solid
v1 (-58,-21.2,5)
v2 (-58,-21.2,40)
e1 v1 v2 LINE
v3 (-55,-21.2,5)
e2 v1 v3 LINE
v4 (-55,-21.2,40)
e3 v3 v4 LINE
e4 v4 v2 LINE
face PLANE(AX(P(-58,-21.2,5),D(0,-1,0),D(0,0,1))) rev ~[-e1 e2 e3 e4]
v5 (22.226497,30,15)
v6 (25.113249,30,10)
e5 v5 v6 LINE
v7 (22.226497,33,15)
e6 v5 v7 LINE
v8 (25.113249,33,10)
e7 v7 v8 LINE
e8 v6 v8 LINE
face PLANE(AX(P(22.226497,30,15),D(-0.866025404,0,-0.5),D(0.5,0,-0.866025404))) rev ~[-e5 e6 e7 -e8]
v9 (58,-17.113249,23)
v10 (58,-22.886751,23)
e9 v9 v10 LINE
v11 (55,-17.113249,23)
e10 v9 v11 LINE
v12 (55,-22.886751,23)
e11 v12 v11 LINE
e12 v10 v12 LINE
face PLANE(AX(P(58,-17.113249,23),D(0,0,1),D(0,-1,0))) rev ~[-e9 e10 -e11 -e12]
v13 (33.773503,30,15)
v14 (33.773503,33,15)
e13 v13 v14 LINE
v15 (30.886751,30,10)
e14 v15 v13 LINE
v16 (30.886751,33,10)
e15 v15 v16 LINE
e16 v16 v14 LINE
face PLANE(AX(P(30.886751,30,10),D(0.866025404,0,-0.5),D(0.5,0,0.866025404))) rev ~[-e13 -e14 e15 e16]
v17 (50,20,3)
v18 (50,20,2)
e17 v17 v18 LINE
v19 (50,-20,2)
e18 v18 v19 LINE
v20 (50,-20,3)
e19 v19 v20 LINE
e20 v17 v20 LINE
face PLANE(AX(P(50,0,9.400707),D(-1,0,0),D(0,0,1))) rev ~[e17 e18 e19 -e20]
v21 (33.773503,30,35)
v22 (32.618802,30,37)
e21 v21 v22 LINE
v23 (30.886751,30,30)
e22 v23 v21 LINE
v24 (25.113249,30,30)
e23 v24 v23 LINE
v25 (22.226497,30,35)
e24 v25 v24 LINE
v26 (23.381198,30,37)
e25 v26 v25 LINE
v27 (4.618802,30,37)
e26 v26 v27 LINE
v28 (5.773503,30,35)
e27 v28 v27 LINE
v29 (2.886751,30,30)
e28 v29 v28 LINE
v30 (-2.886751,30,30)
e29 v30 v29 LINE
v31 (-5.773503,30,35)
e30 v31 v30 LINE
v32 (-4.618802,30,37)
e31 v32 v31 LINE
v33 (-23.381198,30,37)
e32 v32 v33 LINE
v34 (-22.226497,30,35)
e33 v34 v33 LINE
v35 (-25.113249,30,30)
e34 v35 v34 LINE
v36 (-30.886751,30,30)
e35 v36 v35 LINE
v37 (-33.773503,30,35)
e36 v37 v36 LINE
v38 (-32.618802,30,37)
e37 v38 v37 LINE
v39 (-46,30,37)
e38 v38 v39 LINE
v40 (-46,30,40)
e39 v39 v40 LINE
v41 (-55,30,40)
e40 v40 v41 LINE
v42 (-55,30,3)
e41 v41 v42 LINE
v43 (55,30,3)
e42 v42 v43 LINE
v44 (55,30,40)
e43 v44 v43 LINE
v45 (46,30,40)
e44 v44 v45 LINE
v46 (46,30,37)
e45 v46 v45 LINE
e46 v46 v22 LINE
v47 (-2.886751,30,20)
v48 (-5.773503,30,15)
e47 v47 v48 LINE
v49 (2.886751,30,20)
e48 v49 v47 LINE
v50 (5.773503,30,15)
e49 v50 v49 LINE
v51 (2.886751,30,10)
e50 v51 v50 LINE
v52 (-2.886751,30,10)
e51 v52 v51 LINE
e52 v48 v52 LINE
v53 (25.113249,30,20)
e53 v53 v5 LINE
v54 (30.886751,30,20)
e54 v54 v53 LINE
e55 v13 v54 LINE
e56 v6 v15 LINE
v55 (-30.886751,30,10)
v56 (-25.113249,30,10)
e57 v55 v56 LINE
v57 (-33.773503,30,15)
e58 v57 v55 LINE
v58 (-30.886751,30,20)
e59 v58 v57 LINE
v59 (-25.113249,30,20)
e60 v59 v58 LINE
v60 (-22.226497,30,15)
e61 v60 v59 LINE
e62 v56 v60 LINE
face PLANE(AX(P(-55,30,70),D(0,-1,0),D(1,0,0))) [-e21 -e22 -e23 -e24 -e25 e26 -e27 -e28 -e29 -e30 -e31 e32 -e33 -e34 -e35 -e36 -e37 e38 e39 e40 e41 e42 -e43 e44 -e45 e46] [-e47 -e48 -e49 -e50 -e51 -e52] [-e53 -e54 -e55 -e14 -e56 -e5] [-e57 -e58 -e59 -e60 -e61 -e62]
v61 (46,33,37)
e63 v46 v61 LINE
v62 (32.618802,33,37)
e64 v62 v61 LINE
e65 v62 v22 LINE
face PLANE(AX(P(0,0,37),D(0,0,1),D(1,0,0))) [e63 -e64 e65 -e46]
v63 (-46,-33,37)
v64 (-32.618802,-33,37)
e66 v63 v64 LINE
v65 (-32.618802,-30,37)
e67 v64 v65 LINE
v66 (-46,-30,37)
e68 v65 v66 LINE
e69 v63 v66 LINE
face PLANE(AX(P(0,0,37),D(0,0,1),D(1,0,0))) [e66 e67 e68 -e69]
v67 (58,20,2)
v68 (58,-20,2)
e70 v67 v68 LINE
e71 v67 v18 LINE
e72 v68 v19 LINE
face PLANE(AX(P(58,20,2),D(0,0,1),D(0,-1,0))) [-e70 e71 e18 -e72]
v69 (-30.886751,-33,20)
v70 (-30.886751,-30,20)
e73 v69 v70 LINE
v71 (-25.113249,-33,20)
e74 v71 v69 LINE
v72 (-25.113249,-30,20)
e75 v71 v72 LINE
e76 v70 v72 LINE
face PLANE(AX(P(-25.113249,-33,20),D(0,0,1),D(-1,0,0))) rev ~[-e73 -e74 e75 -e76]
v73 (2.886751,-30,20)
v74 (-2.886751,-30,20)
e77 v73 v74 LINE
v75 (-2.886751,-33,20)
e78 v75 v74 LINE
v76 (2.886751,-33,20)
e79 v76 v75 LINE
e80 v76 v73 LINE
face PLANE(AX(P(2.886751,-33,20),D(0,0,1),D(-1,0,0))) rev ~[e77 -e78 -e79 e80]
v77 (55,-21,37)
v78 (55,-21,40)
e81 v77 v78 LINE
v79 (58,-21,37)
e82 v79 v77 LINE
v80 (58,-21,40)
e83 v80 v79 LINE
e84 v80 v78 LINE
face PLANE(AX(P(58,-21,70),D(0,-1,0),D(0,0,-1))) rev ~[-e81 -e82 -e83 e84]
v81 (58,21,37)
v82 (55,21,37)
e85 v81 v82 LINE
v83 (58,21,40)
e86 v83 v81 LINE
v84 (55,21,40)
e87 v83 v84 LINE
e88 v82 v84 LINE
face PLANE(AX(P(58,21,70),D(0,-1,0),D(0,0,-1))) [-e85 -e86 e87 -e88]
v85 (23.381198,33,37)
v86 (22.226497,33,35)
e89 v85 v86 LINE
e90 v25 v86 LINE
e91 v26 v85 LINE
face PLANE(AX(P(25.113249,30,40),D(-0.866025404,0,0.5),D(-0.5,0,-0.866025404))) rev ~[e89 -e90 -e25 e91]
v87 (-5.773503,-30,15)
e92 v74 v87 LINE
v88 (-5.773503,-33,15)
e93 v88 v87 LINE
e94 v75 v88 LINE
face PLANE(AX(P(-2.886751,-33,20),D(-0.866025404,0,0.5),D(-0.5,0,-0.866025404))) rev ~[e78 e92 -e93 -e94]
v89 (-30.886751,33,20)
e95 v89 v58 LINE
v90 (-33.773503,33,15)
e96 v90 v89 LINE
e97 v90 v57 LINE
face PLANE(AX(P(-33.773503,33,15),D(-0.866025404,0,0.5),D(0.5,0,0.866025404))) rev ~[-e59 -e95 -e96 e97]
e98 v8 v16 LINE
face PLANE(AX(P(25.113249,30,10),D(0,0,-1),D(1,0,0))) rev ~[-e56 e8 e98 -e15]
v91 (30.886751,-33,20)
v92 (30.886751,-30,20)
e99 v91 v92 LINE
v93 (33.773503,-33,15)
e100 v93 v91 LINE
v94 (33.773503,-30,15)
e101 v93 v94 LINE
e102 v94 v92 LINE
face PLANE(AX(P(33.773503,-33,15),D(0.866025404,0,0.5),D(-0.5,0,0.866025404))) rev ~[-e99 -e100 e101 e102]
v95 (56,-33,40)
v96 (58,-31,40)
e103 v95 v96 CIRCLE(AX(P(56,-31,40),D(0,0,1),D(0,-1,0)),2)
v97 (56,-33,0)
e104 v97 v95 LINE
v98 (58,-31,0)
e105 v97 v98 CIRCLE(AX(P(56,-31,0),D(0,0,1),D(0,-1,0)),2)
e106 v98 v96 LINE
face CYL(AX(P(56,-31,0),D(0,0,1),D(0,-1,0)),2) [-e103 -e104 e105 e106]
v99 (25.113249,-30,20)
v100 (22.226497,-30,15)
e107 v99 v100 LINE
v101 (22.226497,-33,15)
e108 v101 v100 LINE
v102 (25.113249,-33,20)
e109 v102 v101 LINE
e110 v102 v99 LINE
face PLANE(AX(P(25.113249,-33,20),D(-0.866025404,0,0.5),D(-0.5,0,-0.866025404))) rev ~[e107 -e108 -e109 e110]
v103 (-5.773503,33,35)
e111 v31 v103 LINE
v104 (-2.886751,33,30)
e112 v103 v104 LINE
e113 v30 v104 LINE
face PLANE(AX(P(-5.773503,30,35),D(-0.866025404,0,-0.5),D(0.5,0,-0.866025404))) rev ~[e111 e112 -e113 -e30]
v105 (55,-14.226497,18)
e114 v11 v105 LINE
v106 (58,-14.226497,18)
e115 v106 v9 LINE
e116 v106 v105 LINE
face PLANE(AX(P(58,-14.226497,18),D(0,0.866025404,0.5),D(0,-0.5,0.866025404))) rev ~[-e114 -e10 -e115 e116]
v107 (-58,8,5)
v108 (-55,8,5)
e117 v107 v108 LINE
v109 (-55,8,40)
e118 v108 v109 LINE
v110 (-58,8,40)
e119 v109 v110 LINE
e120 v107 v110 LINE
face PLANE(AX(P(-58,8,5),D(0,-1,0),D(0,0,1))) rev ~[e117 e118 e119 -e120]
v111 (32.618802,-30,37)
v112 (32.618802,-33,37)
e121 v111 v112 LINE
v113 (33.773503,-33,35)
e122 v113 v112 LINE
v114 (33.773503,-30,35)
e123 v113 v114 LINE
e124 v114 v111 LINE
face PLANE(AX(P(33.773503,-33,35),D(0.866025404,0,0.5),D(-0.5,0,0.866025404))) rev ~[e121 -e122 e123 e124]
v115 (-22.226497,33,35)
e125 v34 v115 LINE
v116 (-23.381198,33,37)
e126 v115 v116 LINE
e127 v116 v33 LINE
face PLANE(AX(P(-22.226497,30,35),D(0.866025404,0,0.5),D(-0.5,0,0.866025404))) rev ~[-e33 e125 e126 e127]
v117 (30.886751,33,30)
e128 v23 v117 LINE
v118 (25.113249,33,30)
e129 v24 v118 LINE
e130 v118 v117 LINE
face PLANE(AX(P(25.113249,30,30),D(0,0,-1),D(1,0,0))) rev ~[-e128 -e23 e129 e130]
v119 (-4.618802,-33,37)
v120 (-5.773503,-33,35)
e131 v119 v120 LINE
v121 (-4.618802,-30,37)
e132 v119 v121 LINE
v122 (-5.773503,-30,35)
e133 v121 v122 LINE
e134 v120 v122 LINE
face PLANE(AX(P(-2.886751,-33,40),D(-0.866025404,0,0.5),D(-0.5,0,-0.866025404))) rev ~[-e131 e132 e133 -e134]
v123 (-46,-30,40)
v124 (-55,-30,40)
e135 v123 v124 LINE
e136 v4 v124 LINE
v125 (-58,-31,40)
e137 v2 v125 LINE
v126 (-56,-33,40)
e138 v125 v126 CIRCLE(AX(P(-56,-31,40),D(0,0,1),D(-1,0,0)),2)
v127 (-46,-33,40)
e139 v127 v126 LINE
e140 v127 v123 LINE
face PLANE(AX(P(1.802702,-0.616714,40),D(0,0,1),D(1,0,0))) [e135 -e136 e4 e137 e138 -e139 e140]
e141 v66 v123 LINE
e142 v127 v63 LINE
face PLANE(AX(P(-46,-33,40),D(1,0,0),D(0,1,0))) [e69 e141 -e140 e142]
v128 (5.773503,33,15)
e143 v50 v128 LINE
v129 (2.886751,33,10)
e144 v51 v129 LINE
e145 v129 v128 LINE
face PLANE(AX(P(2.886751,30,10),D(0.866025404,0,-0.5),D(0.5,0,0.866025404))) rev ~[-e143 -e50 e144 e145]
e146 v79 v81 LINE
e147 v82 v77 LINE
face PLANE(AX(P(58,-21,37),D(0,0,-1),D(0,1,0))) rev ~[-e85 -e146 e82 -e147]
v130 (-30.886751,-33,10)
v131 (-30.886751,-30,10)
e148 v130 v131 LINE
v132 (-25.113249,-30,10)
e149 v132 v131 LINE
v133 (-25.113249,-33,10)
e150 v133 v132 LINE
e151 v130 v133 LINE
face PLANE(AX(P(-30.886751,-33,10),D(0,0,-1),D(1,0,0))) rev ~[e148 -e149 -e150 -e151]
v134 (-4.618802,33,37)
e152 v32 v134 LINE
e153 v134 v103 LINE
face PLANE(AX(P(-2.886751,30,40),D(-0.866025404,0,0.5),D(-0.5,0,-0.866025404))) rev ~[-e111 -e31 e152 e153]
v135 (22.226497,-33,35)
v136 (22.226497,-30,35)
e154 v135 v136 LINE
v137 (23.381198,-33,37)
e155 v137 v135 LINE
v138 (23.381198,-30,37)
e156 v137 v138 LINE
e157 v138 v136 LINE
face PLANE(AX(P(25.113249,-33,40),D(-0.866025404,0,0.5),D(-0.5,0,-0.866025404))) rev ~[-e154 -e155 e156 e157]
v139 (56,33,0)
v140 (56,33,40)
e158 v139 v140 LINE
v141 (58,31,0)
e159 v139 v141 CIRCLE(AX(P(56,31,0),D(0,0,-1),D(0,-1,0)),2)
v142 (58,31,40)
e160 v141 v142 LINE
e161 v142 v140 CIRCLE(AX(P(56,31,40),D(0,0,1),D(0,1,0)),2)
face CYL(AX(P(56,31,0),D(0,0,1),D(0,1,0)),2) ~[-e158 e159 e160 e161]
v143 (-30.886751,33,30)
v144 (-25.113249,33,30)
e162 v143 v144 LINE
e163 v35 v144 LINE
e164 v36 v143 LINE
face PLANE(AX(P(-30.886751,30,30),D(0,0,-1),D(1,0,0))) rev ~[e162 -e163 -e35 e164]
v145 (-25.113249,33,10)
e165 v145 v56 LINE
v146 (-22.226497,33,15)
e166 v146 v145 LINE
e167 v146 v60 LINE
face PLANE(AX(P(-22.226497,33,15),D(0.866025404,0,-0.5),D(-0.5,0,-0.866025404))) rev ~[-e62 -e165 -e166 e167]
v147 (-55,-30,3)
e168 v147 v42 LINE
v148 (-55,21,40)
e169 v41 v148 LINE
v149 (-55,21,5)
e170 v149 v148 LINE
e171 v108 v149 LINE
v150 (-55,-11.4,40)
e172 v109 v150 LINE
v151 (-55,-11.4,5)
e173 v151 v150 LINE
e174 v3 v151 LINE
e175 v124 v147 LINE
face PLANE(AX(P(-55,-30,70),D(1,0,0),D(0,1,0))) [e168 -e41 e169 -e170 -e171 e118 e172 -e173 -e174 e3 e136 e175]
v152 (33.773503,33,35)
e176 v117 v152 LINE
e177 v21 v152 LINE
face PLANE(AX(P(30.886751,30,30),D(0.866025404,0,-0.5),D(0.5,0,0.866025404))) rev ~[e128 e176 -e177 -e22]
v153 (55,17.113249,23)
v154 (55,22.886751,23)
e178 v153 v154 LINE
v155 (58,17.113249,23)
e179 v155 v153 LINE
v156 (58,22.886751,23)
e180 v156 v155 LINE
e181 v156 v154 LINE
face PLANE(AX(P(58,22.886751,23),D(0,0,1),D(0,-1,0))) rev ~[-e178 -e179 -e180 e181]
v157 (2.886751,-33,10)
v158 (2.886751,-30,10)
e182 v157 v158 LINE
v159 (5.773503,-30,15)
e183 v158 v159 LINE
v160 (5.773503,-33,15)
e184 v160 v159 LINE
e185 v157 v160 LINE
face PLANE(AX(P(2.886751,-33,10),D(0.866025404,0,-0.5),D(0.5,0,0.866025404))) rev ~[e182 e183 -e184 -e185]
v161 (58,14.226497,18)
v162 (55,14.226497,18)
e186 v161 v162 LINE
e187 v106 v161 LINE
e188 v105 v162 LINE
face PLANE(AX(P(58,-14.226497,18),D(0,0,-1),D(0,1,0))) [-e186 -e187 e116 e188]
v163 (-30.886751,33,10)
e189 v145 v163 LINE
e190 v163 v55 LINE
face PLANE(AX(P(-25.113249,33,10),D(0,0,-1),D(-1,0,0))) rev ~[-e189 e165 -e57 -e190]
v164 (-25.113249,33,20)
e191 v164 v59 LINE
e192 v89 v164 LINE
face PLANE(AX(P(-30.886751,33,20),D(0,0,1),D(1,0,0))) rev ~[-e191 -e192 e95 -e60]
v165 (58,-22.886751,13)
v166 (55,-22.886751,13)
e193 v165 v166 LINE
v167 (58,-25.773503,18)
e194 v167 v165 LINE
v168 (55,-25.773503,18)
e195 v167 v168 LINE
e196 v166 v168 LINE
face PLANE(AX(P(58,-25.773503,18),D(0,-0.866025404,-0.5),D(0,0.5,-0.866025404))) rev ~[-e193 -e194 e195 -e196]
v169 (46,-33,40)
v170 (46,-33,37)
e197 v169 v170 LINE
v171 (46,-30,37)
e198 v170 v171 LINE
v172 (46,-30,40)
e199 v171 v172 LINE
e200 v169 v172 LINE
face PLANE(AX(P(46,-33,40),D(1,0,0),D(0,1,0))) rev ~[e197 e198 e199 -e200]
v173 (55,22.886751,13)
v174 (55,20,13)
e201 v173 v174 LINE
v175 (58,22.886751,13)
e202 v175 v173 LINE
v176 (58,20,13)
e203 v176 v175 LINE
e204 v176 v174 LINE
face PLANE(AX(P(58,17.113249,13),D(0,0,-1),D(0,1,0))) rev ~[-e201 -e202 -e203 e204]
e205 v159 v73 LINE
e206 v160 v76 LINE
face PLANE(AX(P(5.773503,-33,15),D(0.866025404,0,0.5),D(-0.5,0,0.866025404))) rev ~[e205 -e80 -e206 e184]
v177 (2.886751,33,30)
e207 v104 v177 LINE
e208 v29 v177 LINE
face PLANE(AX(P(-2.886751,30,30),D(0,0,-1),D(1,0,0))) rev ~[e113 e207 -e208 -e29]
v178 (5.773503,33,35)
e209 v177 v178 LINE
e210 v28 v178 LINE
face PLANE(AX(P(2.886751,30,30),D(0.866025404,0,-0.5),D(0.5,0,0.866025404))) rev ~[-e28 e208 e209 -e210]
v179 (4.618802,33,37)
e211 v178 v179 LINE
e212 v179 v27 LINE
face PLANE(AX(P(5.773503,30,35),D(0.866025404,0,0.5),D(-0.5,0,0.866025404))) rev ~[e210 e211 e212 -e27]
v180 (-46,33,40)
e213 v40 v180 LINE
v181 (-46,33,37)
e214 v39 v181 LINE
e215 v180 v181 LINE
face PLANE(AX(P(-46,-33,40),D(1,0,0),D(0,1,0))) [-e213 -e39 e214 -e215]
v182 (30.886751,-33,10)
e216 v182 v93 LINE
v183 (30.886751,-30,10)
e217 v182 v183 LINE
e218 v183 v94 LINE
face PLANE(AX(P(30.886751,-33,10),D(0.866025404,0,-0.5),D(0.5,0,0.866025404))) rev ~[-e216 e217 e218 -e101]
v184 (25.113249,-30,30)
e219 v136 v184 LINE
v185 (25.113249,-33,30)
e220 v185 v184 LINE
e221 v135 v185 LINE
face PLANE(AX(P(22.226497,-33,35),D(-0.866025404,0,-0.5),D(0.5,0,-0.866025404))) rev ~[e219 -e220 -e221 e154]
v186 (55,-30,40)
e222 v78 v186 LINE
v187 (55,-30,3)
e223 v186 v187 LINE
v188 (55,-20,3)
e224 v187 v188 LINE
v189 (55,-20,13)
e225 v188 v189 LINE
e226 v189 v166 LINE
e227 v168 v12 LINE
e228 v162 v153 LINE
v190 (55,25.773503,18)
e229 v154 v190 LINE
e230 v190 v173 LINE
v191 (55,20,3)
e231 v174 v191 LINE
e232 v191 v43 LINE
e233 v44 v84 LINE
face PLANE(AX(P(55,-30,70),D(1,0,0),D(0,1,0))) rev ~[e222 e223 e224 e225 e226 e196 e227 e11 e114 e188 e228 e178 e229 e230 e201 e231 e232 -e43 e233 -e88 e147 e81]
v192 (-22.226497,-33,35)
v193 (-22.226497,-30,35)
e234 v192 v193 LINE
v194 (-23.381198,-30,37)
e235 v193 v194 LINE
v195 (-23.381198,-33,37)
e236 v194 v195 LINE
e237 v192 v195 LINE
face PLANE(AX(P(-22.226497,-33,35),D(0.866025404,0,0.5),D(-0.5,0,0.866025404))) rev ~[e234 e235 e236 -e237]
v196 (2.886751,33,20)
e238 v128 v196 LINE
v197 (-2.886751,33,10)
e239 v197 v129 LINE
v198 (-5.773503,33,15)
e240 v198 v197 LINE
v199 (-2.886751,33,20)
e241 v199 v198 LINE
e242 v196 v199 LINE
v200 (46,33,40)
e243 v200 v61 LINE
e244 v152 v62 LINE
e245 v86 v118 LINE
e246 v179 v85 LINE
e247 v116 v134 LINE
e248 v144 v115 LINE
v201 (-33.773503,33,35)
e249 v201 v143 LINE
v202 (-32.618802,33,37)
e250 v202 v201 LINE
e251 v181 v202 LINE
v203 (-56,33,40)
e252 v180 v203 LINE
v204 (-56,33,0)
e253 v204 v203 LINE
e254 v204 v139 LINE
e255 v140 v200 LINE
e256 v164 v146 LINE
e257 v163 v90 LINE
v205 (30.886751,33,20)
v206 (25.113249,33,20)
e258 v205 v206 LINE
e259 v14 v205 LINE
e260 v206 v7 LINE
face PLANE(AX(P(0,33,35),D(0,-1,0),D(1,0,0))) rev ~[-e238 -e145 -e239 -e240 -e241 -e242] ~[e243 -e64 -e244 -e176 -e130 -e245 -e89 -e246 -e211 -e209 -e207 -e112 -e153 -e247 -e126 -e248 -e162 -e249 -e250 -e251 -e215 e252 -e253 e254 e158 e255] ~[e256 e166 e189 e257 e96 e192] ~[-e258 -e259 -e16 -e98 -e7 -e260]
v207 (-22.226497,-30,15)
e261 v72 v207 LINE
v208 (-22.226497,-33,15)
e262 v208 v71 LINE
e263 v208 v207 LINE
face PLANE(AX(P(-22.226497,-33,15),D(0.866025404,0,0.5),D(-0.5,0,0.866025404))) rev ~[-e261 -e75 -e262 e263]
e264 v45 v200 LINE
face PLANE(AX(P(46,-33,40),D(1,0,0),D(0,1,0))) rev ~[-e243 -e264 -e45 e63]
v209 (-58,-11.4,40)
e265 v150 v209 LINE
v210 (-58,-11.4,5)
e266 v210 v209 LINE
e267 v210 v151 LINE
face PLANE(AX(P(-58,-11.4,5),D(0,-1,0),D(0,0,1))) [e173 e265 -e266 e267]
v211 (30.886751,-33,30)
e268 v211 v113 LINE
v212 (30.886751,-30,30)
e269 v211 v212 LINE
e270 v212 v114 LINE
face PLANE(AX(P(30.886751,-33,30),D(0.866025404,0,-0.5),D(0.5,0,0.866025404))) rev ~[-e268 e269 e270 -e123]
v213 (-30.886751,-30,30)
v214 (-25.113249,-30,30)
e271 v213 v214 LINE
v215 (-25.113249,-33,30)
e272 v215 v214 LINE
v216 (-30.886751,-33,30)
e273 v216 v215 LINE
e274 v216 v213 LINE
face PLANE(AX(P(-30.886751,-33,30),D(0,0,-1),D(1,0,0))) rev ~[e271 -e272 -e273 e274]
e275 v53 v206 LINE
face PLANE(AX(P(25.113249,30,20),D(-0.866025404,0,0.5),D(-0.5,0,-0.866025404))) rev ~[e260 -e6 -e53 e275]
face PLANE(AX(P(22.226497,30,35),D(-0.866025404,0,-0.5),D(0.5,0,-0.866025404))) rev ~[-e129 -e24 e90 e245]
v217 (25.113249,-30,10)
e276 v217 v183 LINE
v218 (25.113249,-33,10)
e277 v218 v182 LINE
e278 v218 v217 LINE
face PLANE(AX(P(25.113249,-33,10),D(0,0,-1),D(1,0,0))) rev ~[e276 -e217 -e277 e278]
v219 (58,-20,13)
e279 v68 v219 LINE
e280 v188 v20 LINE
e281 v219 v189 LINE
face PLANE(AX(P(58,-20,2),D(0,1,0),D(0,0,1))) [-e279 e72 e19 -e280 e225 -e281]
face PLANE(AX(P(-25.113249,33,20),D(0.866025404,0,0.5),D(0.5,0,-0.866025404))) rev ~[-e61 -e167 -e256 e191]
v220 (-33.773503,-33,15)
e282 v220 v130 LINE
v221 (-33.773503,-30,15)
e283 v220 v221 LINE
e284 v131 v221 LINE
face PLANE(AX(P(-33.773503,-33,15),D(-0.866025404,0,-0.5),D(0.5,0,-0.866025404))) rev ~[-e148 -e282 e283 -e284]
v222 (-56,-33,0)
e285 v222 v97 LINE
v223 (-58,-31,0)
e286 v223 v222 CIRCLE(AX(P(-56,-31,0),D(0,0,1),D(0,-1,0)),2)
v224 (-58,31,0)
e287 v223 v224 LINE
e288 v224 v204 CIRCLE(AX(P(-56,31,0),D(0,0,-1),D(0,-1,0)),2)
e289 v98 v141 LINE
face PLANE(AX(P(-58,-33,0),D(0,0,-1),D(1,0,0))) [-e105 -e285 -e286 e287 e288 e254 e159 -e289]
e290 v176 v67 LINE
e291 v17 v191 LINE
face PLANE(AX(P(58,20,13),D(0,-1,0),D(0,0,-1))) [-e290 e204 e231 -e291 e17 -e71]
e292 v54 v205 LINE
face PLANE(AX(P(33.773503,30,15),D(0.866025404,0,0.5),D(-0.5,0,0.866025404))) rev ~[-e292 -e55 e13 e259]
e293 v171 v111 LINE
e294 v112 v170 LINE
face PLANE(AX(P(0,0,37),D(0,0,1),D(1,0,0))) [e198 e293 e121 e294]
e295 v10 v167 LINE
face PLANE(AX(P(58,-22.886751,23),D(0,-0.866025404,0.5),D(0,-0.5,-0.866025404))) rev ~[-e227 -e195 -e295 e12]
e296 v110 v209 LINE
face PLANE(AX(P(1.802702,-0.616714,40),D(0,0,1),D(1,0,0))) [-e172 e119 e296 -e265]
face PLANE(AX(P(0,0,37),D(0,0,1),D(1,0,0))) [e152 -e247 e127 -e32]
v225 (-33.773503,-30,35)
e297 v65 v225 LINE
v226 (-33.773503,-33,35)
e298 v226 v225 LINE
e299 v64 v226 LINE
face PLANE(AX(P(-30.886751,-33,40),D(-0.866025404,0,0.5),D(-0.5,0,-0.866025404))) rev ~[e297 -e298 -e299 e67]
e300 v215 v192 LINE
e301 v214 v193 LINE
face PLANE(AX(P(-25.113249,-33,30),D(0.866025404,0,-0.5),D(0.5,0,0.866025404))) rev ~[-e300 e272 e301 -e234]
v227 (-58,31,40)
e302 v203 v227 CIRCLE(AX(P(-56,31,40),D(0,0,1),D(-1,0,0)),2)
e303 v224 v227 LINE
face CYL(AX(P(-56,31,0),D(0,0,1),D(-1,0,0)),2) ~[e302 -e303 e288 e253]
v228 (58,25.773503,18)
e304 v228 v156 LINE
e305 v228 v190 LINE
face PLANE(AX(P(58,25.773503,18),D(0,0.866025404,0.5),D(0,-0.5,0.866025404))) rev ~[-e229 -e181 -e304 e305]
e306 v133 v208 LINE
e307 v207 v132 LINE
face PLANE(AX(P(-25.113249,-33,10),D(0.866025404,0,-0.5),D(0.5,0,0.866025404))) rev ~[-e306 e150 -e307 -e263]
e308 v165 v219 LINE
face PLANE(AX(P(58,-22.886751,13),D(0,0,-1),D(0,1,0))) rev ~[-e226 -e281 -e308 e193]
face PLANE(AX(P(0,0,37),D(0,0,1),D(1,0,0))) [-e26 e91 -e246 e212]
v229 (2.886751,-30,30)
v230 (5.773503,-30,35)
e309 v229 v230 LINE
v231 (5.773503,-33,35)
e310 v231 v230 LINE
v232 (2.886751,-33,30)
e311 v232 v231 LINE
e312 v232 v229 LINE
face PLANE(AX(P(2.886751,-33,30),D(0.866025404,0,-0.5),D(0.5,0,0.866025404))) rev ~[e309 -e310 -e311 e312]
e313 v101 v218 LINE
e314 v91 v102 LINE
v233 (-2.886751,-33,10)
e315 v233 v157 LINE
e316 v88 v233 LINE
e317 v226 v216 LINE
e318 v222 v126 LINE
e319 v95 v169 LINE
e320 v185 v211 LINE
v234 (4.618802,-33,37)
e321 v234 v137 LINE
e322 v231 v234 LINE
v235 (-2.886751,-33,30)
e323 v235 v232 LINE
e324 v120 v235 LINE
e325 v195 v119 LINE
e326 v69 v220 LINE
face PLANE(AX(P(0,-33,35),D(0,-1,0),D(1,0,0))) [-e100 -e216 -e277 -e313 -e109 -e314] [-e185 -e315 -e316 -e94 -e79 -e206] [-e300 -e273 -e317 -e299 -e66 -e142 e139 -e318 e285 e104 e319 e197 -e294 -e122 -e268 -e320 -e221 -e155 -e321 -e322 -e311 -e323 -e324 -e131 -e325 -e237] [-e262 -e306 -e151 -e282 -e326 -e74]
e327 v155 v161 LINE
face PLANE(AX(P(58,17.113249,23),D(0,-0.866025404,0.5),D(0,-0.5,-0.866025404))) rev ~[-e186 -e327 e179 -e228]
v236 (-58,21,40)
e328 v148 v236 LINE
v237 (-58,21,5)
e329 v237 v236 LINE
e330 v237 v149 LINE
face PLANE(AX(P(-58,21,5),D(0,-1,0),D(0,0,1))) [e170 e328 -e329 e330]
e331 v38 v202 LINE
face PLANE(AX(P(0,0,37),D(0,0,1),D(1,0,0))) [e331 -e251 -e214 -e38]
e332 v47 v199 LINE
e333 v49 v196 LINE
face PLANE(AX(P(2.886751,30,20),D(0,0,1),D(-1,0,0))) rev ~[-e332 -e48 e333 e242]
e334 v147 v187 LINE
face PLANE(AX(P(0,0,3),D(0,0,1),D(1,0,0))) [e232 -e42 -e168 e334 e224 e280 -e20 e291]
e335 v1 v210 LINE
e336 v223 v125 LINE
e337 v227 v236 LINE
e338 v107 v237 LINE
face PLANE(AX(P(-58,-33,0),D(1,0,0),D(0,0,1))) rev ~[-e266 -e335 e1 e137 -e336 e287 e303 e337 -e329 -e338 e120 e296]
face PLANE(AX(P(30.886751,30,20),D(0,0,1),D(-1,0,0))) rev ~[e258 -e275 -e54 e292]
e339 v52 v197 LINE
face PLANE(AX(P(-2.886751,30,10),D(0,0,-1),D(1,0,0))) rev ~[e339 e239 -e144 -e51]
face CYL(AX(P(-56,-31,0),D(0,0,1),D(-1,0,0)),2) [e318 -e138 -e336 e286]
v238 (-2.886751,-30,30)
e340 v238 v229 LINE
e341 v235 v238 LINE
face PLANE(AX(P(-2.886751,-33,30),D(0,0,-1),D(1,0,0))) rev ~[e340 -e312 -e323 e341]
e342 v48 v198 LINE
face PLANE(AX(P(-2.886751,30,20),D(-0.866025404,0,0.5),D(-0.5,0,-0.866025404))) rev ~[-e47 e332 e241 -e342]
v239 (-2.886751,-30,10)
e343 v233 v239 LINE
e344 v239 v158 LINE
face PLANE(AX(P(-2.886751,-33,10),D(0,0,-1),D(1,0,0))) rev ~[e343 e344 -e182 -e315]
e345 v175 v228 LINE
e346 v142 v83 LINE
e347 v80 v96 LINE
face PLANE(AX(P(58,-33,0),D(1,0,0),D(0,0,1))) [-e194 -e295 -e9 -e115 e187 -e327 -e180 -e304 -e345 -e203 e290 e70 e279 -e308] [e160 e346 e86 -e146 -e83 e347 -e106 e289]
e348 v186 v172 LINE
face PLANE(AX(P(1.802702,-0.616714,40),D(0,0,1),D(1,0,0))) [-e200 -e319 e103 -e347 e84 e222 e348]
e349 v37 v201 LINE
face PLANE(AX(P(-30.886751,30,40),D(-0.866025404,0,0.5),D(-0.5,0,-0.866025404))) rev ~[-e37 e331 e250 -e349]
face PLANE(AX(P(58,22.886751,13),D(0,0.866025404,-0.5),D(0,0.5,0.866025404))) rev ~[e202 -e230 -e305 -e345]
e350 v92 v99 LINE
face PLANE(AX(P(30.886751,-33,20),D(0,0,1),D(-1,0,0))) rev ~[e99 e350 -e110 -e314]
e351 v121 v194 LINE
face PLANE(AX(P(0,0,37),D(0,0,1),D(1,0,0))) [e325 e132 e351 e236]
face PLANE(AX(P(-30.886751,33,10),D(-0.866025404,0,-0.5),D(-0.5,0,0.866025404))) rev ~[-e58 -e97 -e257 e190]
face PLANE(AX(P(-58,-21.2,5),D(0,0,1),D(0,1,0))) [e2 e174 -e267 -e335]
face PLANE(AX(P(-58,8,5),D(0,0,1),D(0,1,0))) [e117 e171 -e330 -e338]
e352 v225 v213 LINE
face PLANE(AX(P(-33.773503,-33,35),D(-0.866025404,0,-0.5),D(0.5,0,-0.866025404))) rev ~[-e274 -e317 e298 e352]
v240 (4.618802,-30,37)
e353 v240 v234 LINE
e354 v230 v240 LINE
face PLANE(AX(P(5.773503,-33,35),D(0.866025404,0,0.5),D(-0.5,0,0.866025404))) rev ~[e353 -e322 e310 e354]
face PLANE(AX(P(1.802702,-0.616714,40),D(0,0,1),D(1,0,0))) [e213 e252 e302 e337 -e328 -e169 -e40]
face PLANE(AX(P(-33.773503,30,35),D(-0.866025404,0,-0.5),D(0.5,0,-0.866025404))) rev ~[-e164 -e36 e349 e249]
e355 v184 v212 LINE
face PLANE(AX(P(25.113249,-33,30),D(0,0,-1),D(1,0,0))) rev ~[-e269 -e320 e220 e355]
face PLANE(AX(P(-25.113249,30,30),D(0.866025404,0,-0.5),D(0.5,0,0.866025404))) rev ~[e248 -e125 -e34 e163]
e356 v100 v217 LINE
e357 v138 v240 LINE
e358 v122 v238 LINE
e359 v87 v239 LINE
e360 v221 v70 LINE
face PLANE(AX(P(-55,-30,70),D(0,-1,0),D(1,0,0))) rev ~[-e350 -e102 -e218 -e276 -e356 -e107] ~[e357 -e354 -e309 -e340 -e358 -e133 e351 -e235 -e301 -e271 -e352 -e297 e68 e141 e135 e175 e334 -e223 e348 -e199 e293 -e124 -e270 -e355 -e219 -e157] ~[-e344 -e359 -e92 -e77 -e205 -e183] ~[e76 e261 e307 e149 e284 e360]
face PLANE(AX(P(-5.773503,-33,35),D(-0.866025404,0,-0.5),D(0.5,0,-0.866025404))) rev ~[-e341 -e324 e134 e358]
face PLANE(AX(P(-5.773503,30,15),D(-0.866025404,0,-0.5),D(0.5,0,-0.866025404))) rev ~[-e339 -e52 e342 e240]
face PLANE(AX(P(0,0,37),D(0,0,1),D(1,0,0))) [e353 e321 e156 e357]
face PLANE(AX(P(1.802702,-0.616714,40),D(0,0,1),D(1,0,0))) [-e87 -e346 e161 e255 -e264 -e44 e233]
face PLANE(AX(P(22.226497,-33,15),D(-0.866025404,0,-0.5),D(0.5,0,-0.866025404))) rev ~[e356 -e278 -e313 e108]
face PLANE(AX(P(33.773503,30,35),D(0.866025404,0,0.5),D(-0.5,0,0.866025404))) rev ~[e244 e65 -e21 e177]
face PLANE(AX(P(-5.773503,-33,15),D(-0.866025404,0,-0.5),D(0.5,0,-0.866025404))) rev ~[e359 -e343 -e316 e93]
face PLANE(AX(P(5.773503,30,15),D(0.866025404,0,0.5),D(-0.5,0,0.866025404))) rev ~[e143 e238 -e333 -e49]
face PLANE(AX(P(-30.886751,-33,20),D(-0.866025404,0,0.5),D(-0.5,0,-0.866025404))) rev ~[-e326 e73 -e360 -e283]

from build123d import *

# Parameters (mm, degrees)
SKETCH_1_W           = 116
SKETCH_1_H           = 70
EXTRUDE_1_DEPTH      = 66
SKETCH_2_W           = 110
SKETCH_2_H           = 60
CUT_EXTRUDE_1_DEPTH  = 67
CUT_EXTRUDE_2_REACH  = 118
SKETCH_3_W           = 65
SKETCH_3_H           = 13
CUT_EXTRUDE_3_REACH  = 118
SKETCH_4_W           = 65
SKETCH_4_H           = 9.8
CUT_EXTRUDE_4_REACH  = 68
SKETCH_5_W           = 92
SKETCH_5_H           = 3
CUT_EXTRUDE_5_REACH  = 118
SKETCH_6_W           = 33
SKETCH_6_H           = 42
SKETCH_7_W           = 92
SKETCH_7_H           = 3
CUT_EXTRUDE_6_DEPTH  = 67
CUT_EXTRUDE_7_DEPTH  = 4
CUT_EXTRUDE_8_DEPTH  = 4
CUT_EXTRUDE_9_DEPTH  = 4
CUT_EXTRUDE_10_DEPTH = 4
CUT_EXTRUDE_11_DEPTH = 4
CUT_EXTRUDE_12_REACH = 118
CUT_EXTRUDE_13_DEPTH = 67
CUT_EXTRUDE_14_DEPTH = 67
CUT_EXTRUDE_15_DEPTH = 67
CUT_EXTRUDE_16_DEPTH = 67
CUT_EXTRUDE_17_DEPTH = 67
CUT_EXTRUDE_18_REACH = 68
CUT_EXTRUDE_19_REACH = 118
CUT_EXTRUDE_20_DEPTH = 67
FILLET_1_R           = 2
SKETCH_22_W          = 129.509915456
SKETCH_22_H          = 79.224014217
CUT_EXTRUDE_22_DEPTH = 30
SKETCH_23_W          = 92
SKETCH_23_H          = 66
CUT_EXTRUDE_23_DEPTH = 3
CUT_EXTRUDE_24_DEPTH = 8


with BuildPart() as part:
    # 스케치1 → 보스-돌출1 (new body)
    with BuildSketch(Plane.XZ.offset(33)):
        with Locations((0, 35)):
            Rectangle(SKETCH_1_W, SKETCH_1_H)
    extrude(amount=-EXTRUDE_1_DEPTH)

    # 스케치2 → 컷-돌출1 (cut)
    with BuildSketch(Plane.XY.offset(70)):
        Rectangle(SKETCH_2_W, SKETCH_2_H)
    extrude(amount=-CUT_EXTRUDE_1_DEPTH, mode=Mode.SUBTRACT)

    # 스케치3 → 컷-돌출2 (cut, up to next)
    with BuildSketch(Plane.ZY.offset(58), mode=Mode.PRIVATE) as cut_extrude_2_sk1:
        with Locations((37.5, 14.5)):
            Rectangle(SKETCH_3_W, SKETCH_3_H)
    cut_extrude_2_tool1 = extrude(cut_extrude_2_sk1.sketch, amount=-CUT_EXTRUDE_2_REACH, mode=Mode.PRIVATE) & part.part
    add(cut_extrude_2_tool1.solids().sort_by_distance((-58, 14.5, 37.5))[0], mode=Mode.SUBTRACT)

    # 스케치4 → 컷-돌출3 (cut, up to next)
    with BuildSketch(Plane.ZY.offset(58), mode=Mode.PRIVATE) as cut_extrude_3_sk1:
        with Locations((37.5, -16.3)):
            Rectangle(SKETCH_4_W, SKETCH_4_H)
    cut_extrude_3_tool1 = extrude(cut_extrude_3_sk1.sketch, amount=-CUT_EXTRUDE_3_REACH, mode=Mode.PRIVATE) & part.part
    add(cut_extrude_3_tool1.solids().sort_by_distance((-58, -16.3, 37.5))[0], mode=Mode.SUBTRACT)

    # 스케치5 → 컷-돌출4 (cut, up to next)
    with BuildSketch(Plane.XZ.offset(33), mode=Mode.PRIVATE) as cut_extrude_4_sk1:
        with Locations((0, 68.5)):
            Rectangle(SKETCH_5_W, SKETCH_5_H)
    cut_extrude_4_tool1 = extrude(cut_extrude_4_sk1.sketch, amount=-CUT_EXTRUDE_4_REACH, mode=Mode.PRIVATE) & part.part
    add(cut_extrude_4_tool1.solids().sort_by_distance((0, -33, 68.5))[0], mode=Mode.SUBTRACT)

    # 스케치6 → 컷-돌출5 (cut, up to next)
    with BuildSketch(Plane(origin=(58, 0, 0), x_dir=(0, 0, -1), z_dir=(1, 0, 0)), mode=Mode.PRIVATE) as cut_extrude_5_sk1:
        with Locations((-53.5, 0)):
            Rectangle(SKETCH_6_W, SKETCH_6_H)
    cut_extrude_5_tool1 = extrude(cut_extrude_5_sk1.sketch, amount=-CUT_EXTRUDE_5_REACH, mode=Mode.PRIVATE) & part.part
    add(cut_extrude_5_tool1.solids().sort_by_distance((58, 0, 53.5))[0], mode=Mode.SUBTRACT)

    # 스케치7 → 컷-돌출6 (cut, through all)
    with BuildSketch(Plane(origin=(0, 33, 0), x_dir=(-1, 0, 0), z_dir=(0, 1, 0))):
        with Locations((0, 68.5)):
            Rectangle(SKETCH_7_W, SKETCH_7_H)
    extrude(amount=-CUT_EXTRUDE_6_DEPTH, mode=Mode.SUBTRACT)

    # 스케치8 → 컷-돌출7 (cut, through all)
    with BuildSketch(Plane.XZ.offset(-30)):
        Polygon((-33.773502692, 35), (-30.886751346, 30), (-25.113248654, 30), (-22.226497308, 35), (-25.113248654, 40), (-30.886751346, 40), align=None)
    extrude(amount=-CUT_EXTRUDE_7_DEPTH, mode=Mode.SUBTRACT)

    # 스케치9 → 컷-돌출8 (cut, through all)
    with BuildSketch(Plane.XZ.offset(-30)):
        Polygon((-5.773502692, 35), (-2.886751346, 30), (2.886751346, 30), (5.773502692, 35), (2.886751346, 40), (-2.886751346, 40), align=None)
    extrude(amount=-CUT_EXTRUDE_8_DEPTH, mode=Mode.SUBTRACT)

    # 스케치10 → 컷-돌출9 (cut, through all)
    with BuildSketch(Plane.XZ.offset(-30)):
        Polygon((22.226497308, 35), (25.113248654, 30), (30.886751346, 30), (33.773502692, 35), (30.886751346, 40), (25.113248654, 40), align=None)
    extrude(amount=-CUT_EXTRUDE_9_DEPTH, mode=Mode.SUBTRACT)

    # 스케치11 → 컷-돌출10 (cut, through all)
    with BuildSketch(Plane.XZ.offset(-30)):
        Polygon((22.226497308, 15), (25.113248654, 10), (30.886751346, 10), (33.773502692, 15), (30.886751346, 20), (25.113248654, 20), align=None)
    extrude(amount=-CUT_EXTRUDE_10_DEPTH, mode=Mode.SUBTRACT)

    # 스케치12 → 컷-돌출11 (cut, through all)
    with BuildSketch(Plane.XZ.offset(-30)):
        Polygon((-5.773502692, 15), (-2.886751346, 10), (2.886751346, 10), (5.773502692, 15), (2.886751346, 20), (-2.886751346, 20), align=None)
    extrude(amount=-CUT_EXTRUDE_11_DEPTH, mode=Mode.SUBTRACT)

    # 스케치13 → 컷-돌출12 (cut, up to next)
    with BuildSketch(Plane(origin=(58, 0, 0), x_dir=(0, 0, -1), z_dir=(1, 0, 0)), mode=Mode.PRIVATE) as cut_extrude_12_sk1:
        Polygon((-23, -17.113248654), (-23, -22.886751346), (-18, -25.773502692), (-13, -22.886751346), (-13, -17.113248654), (-18, -14.226497308), align=None)
    cut_extrude_12_tool1 = extrude(cut_extrude_12_sk1.sketch, amount=-CUT_EXTRUDE_12_REACH, mode=Mode.PRIVATE) & part.part
    add(cut_extrude_12_tool1.solids().sort_by_distance((58, -20, 18))[0], mode=Mode.SUBTRACT)

    # 스케치14 → 컷-돌출13 (cut, through all)
    with BuildSketch(Plane.XZ.offset(33)):
        Polygon((-25.113248654, 40), (-30.886751346, 40), (-33.773502692, 35), (-30.886751346, 30), (-25.113248654, 30), (-22.226497308, 35), align=None)
    extrude(amount=-CUT_EXTRUDE_13_DEPTH, mode=Mode.SUBTRACT)

    # 스케치15 → 컷-돌출14 (cut, through all)
    with BuildSketch(Plane.XZ.offset(33)):
        Polygon((2.886751346, 40), (-2.886751346, 40), (-5.773502692, 35), (-2.886751346, 30), (2.886751346, 30), (5.773502692, 35), align=None)
    extrude(amount=-CUT_EXTRUDE_14_DEPTH, mode=Mode.SUBTRACT)

    # 스케치16 → 컷-돌출15 (cut, through all)
    with BuildSketch(Plane.XZ.offset(33)):
        Polygon((30.886751346, 40), (25.113248654, 40), (22.226497308, 35), (25.113248654, 30), (30.886751346, 30), (33.773502692, 35), align=None)
    extrude(amount=-CUT_EXTRUDE_15_DEPTH, mode=Mode.SUBTRACT)

    # 스케치17 → 컷-돌출16 (cut, through all)
    with BuildSketch(Plane.XZ.offset(33)):
        Polygon((30.886751346, 20), (25.113248654, 20), (22.226497308, 15), (25.113248654, 10), (30.886751346, 10), (33.773502692, 15), align=None)
    extrude(amount=-CUT_EXTRUDE_16_DEPTH, mode=Mode.SUBTRACT)

    # 스케치18 → 컷-돌출17 (cut, through all)
    with BuildSketch(Plane.XZ.offset(33)):
        Polygon((2.886751346, 20), (-2.886751346, 20), (-5.773502692, 15), (-2.886751346, 10), (2.886751346, 10), (5.773502692, 15), align=None)
    extrude(amount=-CUT_EXTRUDE_17_DEPTH, mode=Mode.SUBTRACT)

    # 스케치19 → 컷-돌출18 (cut, up to next)
    with BuildSketch(Plane.XZ.offset(33), mode=Mode.PRIVATE) as cut_extrude_18_sk1:
        Polygon((-25.113248654, 20), (-30.886751346, 20), (-33.773502692, 15), (-30.886751346, 10), (-25.113248654, 10), (-22.226497308, 15), align=None)
    cut_extrude_18_tool1 = extrude(cut_extrude_18_sk1.sketch, amount=-CUT_EXTRUDE_18_REACH, mode=Mode.PRIVATE) & part.part
    add(cut_extrude_18_tool1.solids().sort_by_distance((-28, -33, 15))[0], mode=Mode.SUBTRACT)

    # 스케치20 → 컷-돌출19 (cut, up to next)
    with BuildSketch(Plane(origin=(58, 0, 0), x_dir=(0, 0, -1), z_dir=(1, 0, 0)), mode=Mode.PRIVATE) as cut_extrude_19_sk1:
        Polygon((-18, 25.773502692), (-23, 22.886751346), (-23, 17.113248654), (-18, 14.226497308), (-13, 17.113248654), (-13, 22.886751346), align=None)
    cut_extrude_19_tool1 = extrude(cut_extrude_19_sk1.sketch, amount=-CUT_EXTRUDE_19_REACH, mode=Mode.PRIVATE) & part.part
    add(cut_extrude_19_tool1.solids().sort_by_distance((58, 20, 18))[0], mode=Mode.SUBTRACT)

    # 스케치21 → 컷-돌출20 (cut, through all)
    with BuildSketch(Plane(origin=(0, 33, 0), x_dir=(-1, 0, 0), z_dir=(0, 1, 0))):
        Polygon((22.226497308, 15), (25.113248654, 10), (30.886751346, 10), (33.773502692, 15), (30.886751346, 20), (25.113248654, 20), align=None)
    extrude(amount=-CUT_EXTRUDE_20_DEPTH, mode=Mode.SUBTRACT)

    # 필렛1
    fillet_1_edges = [part.edges().sort_by_distance(p)[0] for p in [
        (58, 33, 35),
        (-58, 33, 35),
        (58, -33, 35),
        (-58, -33, 35),
    ]]
    fillet(fillet_1_edges, radius=FILLET_1_R)

    # 스케치22 → 컷-돌출22 (cut)
    with BuildSketch(Plane.XY.offset(70)):
        with Locations((1.80270212, -0.616713883)):
            Rectangle(SKETCH_22_W, SKETCH_22_H)
    extrude(amount=-CUT_EXTRUDE_22_DEPTH, mode=Mode.SUBTRACT)

    # 스케치23 → 컷-돌출23 (cut)
    with BuildSketch(Plane.XY.offset(40)):
        Rectangle(SKETCH_23_W, SKETCH_23_H)
    extrude(amount=-CUT_EXTRUDE_23_DEPTH, mode=Mode.SUBTRACT)

    # 스케치24 → 컷-돌출24 (cut)
    with BuildSketch(Plane(origin=(58, 0, 0), x_dir=(0, 0, -1), z_dir=(1, 0, 0))):
        Polygon((-18, -14.226497308), (-18, 14.226497308), (-13, 20), (-2, 20), (-2, -20), (-13, -20), align=None)
    extrude(amount=-CUT_EXTRUDE_24_DEPTH, mode=Mode.SUBTRACT)


solid = part.part
